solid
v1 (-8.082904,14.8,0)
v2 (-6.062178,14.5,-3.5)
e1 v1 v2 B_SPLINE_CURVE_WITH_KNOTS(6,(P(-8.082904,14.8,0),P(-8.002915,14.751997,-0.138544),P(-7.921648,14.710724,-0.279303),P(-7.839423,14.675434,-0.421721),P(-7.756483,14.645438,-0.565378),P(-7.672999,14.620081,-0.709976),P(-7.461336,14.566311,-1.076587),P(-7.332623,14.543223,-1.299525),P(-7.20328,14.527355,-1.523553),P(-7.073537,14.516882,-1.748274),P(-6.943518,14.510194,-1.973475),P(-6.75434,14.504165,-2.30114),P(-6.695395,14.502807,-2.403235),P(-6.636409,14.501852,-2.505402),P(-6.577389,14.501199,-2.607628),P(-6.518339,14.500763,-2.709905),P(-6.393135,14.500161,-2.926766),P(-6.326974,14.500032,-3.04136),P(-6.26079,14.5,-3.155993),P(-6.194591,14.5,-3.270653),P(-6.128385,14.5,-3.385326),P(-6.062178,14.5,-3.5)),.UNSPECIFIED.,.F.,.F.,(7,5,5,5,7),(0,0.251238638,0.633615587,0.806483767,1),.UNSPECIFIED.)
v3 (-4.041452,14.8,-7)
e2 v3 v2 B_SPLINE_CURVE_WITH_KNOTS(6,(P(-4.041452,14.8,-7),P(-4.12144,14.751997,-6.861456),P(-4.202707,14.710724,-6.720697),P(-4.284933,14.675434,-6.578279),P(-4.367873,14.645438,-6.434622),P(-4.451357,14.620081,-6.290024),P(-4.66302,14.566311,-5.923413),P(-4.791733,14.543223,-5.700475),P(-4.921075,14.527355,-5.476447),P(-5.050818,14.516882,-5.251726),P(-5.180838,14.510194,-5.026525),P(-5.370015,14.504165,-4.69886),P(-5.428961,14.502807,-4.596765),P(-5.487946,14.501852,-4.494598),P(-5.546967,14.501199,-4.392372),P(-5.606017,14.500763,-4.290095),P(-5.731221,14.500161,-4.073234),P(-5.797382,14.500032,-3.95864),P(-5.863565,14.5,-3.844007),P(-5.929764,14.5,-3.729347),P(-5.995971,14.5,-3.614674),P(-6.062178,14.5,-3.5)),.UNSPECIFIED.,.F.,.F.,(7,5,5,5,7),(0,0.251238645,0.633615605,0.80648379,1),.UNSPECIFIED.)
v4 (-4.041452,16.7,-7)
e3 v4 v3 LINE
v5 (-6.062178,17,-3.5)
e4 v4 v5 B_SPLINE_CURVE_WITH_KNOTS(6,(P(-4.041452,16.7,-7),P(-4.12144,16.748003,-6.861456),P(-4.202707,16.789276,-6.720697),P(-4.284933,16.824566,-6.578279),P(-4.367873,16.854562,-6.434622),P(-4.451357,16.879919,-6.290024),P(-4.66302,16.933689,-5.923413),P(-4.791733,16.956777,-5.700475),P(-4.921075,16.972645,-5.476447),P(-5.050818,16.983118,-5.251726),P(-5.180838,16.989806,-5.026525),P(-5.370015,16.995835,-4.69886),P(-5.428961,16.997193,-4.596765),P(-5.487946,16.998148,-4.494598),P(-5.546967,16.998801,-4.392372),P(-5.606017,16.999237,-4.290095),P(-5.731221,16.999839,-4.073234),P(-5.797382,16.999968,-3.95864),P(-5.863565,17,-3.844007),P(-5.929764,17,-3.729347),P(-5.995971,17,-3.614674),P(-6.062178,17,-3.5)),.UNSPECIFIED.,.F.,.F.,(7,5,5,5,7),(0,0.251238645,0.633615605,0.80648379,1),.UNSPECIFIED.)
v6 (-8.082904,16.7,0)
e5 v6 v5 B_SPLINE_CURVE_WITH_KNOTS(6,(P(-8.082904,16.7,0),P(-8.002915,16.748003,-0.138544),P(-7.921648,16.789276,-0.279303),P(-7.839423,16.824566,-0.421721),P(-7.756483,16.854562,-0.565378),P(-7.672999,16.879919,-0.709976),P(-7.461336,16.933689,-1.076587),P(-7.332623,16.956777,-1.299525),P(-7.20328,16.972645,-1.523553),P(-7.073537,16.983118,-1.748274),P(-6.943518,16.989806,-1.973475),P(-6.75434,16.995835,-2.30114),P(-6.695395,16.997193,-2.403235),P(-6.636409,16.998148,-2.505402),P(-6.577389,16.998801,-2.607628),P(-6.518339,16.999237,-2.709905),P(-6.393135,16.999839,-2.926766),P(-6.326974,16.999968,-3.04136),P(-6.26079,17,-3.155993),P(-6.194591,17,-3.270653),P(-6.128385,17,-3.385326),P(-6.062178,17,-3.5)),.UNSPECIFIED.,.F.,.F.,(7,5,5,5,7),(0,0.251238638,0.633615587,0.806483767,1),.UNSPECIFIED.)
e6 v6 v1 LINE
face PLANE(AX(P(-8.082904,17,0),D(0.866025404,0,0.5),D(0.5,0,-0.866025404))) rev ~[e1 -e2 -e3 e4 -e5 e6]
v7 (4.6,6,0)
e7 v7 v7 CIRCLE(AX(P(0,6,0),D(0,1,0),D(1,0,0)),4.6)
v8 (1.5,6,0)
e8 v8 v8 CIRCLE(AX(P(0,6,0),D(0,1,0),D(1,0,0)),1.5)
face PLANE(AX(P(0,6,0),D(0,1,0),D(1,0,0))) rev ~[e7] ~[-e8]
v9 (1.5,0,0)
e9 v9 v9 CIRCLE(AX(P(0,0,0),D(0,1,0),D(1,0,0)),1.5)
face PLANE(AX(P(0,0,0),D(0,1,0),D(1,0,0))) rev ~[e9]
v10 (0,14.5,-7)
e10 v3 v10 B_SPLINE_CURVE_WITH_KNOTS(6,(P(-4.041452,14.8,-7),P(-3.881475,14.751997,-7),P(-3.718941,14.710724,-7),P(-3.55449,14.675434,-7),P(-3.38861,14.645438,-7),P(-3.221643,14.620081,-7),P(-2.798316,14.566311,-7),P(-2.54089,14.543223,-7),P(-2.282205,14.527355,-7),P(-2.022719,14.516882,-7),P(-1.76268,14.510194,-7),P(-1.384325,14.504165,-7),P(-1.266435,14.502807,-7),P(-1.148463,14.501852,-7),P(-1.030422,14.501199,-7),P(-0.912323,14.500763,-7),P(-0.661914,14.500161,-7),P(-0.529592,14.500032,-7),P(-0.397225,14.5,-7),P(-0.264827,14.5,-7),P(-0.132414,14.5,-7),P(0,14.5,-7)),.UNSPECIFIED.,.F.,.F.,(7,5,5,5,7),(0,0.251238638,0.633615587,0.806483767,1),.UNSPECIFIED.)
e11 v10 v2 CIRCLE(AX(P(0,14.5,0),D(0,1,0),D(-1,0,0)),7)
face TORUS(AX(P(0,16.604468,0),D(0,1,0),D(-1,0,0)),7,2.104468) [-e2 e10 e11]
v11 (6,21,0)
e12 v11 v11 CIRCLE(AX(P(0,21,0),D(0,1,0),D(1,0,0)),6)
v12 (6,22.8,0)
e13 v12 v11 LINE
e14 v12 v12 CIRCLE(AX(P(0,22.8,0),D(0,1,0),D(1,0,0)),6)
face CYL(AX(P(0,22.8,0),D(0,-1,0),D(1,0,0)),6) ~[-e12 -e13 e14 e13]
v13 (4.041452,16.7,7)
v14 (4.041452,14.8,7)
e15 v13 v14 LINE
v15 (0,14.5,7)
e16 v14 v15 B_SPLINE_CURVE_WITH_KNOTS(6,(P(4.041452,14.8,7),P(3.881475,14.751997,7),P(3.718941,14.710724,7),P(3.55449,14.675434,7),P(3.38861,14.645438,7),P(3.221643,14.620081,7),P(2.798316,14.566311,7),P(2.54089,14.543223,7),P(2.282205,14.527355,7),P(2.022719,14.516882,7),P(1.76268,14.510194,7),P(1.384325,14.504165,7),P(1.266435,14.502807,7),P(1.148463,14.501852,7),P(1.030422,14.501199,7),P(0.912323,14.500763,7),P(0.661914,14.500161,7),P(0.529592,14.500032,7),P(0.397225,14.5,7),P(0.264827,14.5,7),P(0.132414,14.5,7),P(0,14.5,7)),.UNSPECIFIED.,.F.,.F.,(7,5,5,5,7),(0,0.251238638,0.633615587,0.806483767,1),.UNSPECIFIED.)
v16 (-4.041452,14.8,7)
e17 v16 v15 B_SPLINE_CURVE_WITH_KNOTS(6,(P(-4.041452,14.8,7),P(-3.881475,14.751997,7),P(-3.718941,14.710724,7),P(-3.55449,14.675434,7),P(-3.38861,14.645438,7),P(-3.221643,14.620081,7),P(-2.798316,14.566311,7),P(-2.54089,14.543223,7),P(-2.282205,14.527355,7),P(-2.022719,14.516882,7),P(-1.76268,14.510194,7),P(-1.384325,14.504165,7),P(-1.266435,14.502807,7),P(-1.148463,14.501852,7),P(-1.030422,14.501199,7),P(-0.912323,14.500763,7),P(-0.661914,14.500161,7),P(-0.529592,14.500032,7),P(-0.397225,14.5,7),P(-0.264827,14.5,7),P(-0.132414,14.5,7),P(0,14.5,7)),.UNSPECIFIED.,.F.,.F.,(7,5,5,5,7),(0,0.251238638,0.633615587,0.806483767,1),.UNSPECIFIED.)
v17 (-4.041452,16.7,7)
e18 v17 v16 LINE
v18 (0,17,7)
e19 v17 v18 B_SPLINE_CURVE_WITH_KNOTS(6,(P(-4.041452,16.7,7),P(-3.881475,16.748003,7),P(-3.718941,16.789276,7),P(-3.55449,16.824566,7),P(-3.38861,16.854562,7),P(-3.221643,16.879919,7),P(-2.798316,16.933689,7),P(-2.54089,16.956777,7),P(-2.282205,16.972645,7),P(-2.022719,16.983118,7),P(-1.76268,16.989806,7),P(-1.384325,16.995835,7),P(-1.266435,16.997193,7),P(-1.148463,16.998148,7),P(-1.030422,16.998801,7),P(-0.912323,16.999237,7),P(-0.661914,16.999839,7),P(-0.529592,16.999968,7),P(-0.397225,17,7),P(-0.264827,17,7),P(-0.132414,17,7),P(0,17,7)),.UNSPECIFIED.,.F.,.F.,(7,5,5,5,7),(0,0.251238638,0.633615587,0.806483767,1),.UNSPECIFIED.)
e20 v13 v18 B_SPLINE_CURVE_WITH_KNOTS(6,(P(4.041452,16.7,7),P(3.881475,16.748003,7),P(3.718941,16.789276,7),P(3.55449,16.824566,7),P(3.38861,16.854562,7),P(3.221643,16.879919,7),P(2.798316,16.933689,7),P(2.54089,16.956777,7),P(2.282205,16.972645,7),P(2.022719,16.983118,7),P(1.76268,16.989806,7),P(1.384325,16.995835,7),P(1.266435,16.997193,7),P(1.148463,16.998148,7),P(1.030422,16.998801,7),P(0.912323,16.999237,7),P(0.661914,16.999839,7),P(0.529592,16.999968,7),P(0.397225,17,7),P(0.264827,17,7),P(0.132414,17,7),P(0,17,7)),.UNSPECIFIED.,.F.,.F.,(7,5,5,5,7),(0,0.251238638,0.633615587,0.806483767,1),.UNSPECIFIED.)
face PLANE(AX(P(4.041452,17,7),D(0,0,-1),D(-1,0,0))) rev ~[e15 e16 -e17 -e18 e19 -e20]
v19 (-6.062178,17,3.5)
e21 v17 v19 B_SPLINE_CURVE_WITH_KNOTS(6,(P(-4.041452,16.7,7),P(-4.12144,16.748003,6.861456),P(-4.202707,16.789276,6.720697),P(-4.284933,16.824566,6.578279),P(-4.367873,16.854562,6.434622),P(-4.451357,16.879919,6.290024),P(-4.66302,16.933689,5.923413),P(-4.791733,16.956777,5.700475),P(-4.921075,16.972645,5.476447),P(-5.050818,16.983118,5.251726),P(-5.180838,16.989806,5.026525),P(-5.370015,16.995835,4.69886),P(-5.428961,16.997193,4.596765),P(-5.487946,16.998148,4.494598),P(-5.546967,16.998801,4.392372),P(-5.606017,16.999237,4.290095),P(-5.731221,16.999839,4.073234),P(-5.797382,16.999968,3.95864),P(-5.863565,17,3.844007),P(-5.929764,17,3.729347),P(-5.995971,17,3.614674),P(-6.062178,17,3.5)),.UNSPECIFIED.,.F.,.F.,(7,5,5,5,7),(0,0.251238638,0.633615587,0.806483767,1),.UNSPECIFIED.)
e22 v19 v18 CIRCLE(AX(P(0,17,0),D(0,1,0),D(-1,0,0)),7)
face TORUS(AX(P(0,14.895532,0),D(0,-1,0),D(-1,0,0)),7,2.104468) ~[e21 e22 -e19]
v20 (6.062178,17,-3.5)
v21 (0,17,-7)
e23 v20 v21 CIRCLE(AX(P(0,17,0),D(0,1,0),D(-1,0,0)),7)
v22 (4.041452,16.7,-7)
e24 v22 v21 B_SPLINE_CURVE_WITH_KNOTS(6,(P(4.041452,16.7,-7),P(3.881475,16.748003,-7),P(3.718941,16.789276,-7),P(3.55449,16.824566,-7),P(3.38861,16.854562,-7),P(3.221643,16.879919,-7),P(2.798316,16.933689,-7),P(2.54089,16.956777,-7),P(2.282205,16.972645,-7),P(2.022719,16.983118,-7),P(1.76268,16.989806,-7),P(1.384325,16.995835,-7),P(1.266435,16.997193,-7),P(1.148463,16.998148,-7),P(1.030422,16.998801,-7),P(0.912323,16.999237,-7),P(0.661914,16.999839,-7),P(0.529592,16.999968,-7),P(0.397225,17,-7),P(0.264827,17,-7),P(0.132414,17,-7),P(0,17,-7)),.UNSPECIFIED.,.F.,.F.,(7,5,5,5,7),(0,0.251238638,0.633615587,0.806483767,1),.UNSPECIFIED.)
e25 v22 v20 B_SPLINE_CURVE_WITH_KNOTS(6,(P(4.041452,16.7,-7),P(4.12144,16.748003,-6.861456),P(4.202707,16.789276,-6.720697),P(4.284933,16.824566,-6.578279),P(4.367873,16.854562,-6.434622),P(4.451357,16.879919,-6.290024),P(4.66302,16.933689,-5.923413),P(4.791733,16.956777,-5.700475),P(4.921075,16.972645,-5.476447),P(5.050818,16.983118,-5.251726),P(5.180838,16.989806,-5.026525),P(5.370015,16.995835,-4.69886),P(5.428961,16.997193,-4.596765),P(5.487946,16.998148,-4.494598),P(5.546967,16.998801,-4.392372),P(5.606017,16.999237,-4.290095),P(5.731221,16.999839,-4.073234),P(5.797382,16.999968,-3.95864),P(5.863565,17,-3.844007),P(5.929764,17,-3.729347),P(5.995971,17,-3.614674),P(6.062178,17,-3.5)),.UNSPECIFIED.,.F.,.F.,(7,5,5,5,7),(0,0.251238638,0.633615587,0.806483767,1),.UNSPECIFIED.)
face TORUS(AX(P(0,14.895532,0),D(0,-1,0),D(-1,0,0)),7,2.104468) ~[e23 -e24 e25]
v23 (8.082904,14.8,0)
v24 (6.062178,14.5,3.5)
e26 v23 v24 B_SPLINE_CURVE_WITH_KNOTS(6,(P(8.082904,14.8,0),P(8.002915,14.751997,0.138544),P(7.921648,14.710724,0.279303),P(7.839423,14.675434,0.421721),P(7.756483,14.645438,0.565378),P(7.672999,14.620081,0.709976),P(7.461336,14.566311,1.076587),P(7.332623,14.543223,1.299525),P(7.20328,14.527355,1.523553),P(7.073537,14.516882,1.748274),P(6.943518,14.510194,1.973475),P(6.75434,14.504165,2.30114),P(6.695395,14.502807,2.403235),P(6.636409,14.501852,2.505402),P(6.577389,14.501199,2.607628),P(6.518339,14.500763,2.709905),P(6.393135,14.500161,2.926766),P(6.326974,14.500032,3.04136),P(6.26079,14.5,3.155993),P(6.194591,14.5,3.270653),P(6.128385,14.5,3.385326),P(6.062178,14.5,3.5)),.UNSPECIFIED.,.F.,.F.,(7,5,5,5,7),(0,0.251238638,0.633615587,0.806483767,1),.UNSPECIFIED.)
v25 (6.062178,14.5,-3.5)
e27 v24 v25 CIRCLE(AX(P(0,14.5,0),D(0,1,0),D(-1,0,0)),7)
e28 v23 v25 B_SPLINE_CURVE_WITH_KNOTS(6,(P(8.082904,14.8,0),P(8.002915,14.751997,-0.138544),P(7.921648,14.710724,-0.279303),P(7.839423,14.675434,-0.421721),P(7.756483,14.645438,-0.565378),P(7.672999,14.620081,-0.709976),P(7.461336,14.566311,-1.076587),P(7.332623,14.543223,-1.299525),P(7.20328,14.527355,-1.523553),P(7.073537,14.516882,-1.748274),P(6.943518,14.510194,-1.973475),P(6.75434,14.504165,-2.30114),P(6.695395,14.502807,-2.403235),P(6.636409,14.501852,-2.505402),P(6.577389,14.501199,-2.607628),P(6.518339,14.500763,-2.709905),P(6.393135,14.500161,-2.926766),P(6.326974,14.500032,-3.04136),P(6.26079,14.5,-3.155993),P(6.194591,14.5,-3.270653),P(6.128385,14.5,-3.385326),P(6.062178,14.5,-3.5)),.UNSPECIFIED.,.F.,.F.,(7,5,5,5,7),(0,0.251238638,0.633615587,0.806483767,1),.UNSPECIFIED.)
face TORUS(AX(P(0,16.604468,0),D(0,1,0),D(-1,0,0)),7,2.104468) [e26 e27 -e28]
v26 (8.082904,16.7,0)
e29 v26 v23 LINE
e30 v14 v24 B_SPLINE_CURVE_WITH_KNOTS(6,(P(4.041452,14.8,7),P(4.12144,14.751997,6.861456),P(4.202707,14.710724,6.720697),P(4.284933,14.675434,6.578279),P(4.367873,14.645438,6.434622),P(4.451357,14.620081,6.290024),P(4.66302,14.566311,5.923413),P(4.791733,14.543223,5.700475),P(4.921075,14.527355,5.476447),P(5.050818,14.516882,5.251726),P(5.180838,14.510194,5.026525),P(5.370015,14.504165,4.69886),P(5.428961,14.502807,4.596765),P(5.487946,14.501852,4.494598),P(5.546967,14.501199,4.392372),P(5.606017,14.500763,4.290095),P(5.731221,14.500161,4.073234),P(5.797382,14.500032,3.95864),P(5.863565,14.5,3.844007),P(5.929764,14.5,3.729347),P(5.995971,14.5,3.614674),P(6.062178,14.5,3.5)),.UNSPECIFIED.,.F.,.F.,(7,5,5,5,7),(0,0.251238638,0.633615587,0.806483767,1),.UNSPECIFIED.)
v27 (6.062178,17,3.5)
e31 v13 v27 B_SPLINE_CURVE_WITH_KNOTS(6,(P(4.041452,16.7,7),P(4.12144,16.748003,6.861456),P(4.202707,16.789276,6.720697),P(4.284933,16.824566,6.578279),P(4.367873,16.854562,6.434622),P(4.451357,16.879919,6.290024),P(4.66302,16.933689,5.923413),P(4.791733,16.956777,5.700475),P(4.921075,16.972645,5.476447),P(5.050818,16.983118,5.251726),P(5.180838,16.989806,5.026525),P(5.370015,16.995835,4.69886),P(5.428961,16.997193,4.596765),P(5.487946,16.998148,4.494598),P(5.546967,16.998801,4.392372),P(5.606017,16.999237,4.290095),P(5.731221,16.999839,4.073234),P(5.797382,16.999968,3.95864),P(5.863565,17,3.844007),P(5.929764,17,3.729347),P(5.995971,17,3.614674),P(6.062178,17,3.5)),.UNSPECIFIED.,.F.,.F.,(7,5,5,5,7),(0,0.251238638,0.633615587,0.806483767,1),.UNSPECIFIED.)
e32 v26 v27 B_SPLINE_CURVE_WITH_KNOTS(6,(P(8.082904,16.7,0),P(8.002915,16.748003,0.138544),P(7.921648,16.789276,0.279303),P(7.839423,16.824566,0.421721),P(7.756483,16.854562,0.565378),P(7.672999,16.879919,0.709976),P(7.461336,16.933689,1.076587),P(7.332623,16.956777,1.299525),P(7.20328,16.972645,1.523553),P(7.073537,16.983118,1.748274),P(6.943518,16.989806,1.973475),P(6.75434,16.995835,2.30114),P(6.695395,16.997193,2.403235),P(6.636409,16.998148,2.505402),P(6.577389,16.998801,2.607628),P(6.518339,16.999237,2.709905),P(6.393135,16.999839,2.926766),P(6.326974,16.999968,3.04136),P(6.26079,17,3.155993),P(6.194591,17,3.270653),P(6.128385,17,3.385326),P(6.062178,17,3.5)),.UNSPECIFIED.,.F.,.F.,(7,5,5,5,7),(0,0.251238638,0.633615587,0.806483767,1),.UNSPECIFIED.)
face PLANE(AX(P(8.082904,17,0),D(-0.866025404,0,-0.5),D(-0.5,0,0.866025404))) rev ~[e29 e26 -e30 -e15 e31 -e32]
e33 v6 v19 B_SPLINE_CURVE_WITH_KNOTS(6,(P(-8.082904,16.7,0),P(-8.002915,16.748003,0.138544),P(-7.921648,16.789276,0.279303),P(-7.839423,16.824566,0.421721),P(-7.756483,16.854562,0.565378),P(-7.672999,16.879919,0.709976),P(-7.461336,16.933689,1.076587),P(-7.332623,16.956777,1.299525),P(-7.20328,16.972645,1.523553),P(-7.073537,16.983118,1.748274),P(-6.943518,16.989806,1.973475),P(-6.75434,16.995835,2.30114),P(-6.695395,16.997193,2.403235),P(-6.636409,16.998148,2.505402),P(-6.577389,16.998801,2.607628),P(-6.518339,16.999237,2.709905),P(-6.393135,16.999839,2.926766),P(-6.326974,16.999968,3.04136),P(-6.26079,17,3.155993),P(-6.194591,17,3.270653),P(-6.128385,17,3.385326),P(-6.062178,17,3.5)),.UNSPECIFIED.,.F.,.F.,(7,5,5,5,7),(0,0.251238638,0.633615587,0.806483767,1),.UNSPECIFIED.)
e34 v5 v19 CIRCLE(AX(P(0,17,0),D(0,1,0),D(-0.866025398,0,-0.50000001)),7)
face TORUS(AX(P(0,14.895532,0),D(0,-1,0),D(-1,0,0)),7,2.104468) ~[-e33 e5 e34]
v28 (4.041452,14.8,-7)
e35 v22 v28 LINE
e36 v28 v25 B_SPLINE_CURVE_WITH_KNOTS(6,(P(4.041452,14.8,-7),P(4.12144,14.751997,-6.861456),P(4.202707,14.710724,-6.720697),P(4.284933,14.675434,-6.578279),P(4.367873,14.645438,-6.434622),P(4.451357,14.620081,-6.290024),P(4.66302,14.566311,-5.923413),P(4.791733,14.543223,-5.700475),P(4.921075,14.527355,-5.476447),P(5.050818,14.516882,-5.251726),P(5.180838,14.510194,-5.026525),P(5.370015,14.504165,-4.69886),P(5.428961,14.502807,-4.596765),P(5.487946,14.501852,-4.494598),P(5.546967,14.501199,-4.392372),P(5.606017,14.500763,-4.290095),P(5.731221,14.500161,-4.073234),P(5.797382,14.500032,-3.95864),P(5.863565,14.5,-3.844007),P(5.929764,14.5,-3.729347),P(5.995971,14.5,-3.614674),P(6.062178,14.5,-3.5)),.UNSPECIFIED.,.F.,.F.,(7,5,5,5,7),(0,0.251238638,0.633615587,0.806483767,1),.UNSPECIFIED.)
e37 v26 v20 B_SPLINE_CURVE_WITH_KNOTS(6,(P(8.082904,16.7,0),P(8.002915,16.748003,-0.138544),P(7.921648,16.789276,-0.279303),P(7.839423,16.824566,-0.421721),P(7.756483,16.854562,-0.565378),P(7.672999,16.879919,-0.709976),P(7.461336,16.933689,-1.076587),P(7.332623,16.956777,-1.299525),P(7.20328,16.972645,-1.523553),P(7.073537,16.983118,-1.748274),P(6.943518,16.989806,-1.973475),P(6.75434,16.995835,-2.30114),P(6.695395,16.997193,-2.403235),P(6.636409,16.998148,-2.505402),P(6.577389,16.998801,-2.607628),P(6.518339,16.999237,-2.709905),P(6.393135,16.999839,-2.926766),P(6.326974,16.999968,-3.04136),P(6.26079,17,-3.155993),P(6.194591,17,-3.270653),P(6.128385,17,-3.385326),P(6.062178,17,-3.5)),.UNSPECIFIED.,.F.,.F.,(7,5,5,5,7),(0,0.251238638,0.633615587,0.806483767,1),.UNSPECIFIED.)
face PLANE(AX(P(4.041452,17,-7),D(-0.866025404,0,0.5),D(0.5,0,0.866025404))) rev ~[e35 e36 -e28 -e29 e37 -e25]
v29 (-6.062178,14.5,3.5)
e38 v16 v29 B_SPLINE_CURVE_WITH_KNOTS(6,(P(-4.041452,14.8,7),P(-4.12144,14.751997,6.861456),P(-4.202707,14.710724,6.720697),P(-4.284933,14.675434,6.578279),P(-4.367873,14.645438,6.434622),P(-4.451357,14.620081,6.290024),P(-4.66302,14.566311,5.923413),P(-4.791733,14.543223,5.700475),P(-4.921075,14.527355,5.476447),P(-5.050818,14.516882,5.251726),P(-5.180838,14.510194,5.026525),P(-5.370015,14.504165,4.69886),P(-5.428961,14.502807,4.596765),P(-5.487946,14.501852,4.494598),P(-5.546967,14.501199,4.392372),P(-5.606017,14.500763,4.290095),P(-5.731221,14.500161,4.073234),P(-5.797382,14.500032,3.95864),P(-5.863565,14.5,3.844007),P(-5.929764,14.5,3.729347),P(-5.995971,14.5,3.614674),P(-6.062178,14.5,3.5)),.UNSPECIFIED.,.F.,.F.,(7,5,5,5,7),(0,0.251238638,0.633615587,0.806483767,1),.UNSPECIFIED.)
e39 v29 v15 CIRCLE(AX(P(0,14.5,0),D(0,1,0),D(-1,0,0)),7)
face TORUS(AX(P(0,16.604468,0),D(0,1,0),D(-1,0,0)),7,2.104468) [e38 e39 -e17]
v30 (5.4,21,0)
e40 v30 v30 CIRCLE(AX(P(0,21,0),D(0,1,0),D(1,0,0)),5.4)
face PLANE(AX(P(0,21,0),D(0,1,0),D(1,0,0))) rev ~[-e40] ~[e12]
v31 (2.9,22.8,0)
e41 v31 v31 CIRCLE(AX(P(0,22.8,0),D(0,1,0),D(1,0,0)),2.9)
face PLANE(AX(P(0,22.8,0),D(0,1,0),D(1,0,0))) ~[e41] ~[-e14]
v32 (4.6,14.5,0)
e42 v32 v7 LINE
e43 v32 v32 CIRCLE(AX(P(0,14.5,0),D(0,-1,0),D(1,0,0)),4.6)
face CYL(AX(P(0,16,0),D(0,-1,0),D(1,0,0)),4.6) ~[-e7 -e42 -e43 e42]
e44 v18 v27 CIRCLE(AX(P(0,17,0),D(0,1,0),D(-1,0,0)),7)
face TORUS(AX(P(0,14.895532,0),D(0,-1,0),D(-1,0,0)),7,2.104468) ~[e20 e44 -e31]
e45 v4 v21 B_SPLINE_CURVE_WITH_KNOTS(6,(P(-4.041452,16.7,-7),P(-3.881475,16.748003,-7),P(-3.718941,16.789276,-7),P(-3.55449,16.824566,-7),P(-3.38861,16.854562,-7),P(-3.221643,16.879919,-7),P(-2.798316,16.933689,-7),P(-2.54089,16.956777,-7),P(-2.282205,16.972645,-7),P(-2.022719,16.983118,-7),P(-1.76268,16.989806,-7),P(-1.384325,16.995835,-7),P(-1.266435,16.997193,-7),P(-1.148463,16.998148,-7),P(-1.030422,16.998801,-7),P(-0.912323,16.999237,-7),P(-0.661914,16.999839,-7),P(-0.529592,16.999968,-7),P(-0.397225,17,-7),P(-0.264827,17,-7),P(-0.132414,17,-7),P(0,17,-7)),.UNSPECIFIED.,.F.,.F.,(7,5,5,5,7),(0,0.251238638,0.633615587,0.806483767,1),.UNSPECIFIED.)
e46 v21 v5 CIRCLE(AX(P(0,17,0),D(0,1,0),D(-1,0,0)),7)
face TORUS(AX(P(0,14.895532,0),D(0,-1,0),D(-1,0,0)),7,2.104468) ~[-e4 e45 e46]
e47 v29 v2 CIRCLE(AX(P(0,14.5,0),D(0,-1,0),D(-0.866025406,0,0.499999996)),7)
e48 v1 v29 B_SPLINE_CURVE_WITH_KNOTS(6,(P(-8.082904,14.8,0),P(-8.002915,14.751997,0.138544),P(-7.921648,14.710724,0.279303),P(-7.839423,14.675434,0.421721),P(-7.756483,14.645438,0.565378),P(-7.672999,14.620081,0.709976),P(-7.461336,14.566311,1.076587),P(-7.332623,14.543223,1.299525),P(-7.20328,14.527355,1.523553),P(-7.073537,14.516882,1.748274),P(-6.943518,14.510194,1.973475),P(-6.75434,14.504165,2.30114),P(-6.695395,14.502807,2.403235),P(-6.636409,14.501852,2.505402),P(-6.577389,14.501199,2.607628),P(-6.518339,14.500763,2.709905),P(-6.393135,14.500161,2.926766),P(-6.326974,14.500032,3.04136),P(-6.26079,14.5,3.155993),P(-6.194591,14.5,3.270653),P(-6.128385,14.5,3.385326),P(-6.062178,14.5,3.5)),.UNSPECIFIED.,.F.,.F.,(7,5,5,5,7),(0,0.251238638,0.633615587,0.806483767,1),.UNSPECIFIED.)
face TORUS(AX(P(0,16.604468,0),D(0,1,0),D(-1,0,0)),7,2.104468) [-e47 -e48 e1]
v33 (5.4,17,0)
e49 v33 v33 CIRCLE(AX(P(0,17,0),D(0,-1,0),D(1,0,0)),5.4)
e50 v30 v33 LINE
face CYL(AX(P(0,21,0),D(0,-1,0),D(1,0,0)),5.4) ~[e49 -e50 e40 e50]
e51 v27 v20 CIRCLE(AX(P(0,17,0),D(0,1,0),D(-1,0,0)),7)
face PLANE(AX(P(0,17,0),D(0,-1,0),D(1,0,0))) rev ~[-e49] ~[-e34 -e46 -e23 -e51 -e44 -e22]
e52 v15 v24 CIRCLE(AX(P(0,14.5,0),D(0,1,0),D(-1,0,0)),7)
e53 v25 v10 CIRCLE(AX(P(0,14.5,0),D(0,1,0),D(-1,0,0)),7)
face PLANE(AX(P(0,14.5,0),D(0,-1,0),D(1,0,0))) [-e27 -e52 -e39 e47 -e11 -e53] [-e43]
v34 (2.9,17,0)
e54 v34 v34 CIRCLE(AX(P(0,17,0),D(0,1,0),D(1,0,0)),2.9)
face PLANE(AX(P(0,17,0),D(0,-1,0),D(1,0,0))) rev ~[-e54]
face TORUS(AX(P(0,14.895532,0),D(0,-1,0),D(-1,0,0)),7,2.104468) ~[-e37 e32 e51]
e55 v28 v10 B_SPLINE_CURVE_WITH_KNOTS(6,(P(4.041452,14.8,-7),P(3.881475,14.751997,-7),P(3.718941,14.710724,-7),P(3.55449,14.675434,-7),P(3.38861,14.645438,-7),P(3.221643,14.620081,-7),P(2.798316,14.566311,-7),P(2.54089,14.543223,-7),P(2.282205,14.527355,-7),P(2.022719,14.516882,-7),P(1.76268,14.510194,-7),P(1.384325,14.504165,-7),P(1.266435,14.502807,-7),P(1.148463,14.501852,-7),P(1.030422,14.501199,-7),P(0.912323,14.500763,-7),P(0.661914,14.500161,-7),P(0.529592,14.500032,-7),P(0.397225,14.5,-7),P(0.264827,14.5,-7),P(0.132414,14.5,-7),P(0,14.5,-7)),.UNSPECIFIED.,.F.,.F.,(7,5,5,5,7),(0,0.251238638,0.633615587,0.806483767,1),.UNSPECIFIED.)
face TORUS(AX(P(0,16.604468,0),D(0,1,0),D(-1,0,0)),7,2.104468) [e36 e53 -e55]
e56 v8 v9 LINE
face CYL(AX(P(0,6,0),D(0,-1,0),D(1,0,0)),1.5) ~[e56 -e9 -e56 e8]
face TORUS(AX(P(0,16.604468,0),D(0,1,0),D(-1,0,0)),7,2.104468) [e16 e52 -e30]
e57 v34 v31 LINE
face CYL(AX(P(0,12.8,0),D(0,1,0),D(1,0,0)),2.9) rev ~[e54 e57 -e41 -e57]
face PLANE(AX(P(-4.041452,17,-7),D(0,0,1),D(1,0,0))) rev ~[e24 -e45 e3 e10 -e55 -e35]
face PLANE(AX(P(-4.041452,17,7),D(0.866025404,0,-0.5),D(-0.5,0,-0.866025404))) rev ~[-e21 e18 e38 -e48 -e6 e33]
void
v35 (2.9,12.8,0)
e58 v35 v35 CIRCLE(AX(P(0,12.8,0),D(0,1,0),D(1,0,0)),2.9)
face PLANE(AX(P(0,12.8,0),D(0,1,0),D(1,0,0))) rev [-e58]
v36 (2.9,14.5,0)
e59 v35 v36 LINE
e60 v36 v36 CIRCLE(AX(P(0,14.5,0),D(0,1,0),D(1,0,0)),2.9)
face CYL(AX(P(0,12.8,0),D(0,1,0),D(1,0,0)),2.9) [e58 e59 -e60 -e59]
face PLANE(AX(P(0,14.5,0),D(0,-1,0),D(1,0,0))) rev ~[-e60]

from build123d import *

# Parameters (mm, degrees)
BOSS_EXTRUDE1_START = 4
BOSS_EXTRUDE1_DEPTH = 2.5


with BuildPart() as part:
    # Sketch1 → Revolve1 (revolve)
    with BuildSketch(Plane.XY):
        Polygon((0, 0), (0, 12.8), (2.9, 12.8), (2.9, 22.8), (6, 22.8), (6, 21), (5.4, 21), (5.4, 16), (4.6, 16), (4.6, 6), (1.5, 6), (1.5, 0), align=None)
    revolve(axis=Axis((0, 0, 0), (0, 1, 0)))

    # Sketch2 → Boss-Extrude1 (add)
    with BuildSketch(Plane.XZ.offset(-21).offset(BOSS_EXTRUDE1_START)):
        Polygon((8.082903769, 0), (4.041451884, 7), (-4.041451884, 7), (-8.082903769, 0), (-4.041451884, -7), (4.041451884, -7), align=None)
    extrude(amount=BOSS_EXTRUDE1_DEPTH)

    # Sketch3 → Cut-Revolve1 (revolve, cut)
    with BuildSketch(Plane.XY):
        with BuildLine():
            Line((-8.082903769, 16.7), (-8.082903769, 17))
            Line((-8.082903769, 17), (-7, 17))
            ThreePointArc((-7, 17), (-7.561845302, 16.923613695), (-8.082903769, 16.7))
        make_face()
        with BuildLine():
            Line((-8.082903769, 14.8), (-8.082903769, 14.5))
            Line((-8.082903769, 14.5), (-7, 14.5))
            ThreePointArc((-7, 14.5), (-7.561845302, 14.576386305), (-8.082903769, 14.8))
        make_face()
    revolve(axis=Axis((0, 14.5, 0), (0, 1, 0)), mode=Mode.SUBTRACT)


solid = part.part
